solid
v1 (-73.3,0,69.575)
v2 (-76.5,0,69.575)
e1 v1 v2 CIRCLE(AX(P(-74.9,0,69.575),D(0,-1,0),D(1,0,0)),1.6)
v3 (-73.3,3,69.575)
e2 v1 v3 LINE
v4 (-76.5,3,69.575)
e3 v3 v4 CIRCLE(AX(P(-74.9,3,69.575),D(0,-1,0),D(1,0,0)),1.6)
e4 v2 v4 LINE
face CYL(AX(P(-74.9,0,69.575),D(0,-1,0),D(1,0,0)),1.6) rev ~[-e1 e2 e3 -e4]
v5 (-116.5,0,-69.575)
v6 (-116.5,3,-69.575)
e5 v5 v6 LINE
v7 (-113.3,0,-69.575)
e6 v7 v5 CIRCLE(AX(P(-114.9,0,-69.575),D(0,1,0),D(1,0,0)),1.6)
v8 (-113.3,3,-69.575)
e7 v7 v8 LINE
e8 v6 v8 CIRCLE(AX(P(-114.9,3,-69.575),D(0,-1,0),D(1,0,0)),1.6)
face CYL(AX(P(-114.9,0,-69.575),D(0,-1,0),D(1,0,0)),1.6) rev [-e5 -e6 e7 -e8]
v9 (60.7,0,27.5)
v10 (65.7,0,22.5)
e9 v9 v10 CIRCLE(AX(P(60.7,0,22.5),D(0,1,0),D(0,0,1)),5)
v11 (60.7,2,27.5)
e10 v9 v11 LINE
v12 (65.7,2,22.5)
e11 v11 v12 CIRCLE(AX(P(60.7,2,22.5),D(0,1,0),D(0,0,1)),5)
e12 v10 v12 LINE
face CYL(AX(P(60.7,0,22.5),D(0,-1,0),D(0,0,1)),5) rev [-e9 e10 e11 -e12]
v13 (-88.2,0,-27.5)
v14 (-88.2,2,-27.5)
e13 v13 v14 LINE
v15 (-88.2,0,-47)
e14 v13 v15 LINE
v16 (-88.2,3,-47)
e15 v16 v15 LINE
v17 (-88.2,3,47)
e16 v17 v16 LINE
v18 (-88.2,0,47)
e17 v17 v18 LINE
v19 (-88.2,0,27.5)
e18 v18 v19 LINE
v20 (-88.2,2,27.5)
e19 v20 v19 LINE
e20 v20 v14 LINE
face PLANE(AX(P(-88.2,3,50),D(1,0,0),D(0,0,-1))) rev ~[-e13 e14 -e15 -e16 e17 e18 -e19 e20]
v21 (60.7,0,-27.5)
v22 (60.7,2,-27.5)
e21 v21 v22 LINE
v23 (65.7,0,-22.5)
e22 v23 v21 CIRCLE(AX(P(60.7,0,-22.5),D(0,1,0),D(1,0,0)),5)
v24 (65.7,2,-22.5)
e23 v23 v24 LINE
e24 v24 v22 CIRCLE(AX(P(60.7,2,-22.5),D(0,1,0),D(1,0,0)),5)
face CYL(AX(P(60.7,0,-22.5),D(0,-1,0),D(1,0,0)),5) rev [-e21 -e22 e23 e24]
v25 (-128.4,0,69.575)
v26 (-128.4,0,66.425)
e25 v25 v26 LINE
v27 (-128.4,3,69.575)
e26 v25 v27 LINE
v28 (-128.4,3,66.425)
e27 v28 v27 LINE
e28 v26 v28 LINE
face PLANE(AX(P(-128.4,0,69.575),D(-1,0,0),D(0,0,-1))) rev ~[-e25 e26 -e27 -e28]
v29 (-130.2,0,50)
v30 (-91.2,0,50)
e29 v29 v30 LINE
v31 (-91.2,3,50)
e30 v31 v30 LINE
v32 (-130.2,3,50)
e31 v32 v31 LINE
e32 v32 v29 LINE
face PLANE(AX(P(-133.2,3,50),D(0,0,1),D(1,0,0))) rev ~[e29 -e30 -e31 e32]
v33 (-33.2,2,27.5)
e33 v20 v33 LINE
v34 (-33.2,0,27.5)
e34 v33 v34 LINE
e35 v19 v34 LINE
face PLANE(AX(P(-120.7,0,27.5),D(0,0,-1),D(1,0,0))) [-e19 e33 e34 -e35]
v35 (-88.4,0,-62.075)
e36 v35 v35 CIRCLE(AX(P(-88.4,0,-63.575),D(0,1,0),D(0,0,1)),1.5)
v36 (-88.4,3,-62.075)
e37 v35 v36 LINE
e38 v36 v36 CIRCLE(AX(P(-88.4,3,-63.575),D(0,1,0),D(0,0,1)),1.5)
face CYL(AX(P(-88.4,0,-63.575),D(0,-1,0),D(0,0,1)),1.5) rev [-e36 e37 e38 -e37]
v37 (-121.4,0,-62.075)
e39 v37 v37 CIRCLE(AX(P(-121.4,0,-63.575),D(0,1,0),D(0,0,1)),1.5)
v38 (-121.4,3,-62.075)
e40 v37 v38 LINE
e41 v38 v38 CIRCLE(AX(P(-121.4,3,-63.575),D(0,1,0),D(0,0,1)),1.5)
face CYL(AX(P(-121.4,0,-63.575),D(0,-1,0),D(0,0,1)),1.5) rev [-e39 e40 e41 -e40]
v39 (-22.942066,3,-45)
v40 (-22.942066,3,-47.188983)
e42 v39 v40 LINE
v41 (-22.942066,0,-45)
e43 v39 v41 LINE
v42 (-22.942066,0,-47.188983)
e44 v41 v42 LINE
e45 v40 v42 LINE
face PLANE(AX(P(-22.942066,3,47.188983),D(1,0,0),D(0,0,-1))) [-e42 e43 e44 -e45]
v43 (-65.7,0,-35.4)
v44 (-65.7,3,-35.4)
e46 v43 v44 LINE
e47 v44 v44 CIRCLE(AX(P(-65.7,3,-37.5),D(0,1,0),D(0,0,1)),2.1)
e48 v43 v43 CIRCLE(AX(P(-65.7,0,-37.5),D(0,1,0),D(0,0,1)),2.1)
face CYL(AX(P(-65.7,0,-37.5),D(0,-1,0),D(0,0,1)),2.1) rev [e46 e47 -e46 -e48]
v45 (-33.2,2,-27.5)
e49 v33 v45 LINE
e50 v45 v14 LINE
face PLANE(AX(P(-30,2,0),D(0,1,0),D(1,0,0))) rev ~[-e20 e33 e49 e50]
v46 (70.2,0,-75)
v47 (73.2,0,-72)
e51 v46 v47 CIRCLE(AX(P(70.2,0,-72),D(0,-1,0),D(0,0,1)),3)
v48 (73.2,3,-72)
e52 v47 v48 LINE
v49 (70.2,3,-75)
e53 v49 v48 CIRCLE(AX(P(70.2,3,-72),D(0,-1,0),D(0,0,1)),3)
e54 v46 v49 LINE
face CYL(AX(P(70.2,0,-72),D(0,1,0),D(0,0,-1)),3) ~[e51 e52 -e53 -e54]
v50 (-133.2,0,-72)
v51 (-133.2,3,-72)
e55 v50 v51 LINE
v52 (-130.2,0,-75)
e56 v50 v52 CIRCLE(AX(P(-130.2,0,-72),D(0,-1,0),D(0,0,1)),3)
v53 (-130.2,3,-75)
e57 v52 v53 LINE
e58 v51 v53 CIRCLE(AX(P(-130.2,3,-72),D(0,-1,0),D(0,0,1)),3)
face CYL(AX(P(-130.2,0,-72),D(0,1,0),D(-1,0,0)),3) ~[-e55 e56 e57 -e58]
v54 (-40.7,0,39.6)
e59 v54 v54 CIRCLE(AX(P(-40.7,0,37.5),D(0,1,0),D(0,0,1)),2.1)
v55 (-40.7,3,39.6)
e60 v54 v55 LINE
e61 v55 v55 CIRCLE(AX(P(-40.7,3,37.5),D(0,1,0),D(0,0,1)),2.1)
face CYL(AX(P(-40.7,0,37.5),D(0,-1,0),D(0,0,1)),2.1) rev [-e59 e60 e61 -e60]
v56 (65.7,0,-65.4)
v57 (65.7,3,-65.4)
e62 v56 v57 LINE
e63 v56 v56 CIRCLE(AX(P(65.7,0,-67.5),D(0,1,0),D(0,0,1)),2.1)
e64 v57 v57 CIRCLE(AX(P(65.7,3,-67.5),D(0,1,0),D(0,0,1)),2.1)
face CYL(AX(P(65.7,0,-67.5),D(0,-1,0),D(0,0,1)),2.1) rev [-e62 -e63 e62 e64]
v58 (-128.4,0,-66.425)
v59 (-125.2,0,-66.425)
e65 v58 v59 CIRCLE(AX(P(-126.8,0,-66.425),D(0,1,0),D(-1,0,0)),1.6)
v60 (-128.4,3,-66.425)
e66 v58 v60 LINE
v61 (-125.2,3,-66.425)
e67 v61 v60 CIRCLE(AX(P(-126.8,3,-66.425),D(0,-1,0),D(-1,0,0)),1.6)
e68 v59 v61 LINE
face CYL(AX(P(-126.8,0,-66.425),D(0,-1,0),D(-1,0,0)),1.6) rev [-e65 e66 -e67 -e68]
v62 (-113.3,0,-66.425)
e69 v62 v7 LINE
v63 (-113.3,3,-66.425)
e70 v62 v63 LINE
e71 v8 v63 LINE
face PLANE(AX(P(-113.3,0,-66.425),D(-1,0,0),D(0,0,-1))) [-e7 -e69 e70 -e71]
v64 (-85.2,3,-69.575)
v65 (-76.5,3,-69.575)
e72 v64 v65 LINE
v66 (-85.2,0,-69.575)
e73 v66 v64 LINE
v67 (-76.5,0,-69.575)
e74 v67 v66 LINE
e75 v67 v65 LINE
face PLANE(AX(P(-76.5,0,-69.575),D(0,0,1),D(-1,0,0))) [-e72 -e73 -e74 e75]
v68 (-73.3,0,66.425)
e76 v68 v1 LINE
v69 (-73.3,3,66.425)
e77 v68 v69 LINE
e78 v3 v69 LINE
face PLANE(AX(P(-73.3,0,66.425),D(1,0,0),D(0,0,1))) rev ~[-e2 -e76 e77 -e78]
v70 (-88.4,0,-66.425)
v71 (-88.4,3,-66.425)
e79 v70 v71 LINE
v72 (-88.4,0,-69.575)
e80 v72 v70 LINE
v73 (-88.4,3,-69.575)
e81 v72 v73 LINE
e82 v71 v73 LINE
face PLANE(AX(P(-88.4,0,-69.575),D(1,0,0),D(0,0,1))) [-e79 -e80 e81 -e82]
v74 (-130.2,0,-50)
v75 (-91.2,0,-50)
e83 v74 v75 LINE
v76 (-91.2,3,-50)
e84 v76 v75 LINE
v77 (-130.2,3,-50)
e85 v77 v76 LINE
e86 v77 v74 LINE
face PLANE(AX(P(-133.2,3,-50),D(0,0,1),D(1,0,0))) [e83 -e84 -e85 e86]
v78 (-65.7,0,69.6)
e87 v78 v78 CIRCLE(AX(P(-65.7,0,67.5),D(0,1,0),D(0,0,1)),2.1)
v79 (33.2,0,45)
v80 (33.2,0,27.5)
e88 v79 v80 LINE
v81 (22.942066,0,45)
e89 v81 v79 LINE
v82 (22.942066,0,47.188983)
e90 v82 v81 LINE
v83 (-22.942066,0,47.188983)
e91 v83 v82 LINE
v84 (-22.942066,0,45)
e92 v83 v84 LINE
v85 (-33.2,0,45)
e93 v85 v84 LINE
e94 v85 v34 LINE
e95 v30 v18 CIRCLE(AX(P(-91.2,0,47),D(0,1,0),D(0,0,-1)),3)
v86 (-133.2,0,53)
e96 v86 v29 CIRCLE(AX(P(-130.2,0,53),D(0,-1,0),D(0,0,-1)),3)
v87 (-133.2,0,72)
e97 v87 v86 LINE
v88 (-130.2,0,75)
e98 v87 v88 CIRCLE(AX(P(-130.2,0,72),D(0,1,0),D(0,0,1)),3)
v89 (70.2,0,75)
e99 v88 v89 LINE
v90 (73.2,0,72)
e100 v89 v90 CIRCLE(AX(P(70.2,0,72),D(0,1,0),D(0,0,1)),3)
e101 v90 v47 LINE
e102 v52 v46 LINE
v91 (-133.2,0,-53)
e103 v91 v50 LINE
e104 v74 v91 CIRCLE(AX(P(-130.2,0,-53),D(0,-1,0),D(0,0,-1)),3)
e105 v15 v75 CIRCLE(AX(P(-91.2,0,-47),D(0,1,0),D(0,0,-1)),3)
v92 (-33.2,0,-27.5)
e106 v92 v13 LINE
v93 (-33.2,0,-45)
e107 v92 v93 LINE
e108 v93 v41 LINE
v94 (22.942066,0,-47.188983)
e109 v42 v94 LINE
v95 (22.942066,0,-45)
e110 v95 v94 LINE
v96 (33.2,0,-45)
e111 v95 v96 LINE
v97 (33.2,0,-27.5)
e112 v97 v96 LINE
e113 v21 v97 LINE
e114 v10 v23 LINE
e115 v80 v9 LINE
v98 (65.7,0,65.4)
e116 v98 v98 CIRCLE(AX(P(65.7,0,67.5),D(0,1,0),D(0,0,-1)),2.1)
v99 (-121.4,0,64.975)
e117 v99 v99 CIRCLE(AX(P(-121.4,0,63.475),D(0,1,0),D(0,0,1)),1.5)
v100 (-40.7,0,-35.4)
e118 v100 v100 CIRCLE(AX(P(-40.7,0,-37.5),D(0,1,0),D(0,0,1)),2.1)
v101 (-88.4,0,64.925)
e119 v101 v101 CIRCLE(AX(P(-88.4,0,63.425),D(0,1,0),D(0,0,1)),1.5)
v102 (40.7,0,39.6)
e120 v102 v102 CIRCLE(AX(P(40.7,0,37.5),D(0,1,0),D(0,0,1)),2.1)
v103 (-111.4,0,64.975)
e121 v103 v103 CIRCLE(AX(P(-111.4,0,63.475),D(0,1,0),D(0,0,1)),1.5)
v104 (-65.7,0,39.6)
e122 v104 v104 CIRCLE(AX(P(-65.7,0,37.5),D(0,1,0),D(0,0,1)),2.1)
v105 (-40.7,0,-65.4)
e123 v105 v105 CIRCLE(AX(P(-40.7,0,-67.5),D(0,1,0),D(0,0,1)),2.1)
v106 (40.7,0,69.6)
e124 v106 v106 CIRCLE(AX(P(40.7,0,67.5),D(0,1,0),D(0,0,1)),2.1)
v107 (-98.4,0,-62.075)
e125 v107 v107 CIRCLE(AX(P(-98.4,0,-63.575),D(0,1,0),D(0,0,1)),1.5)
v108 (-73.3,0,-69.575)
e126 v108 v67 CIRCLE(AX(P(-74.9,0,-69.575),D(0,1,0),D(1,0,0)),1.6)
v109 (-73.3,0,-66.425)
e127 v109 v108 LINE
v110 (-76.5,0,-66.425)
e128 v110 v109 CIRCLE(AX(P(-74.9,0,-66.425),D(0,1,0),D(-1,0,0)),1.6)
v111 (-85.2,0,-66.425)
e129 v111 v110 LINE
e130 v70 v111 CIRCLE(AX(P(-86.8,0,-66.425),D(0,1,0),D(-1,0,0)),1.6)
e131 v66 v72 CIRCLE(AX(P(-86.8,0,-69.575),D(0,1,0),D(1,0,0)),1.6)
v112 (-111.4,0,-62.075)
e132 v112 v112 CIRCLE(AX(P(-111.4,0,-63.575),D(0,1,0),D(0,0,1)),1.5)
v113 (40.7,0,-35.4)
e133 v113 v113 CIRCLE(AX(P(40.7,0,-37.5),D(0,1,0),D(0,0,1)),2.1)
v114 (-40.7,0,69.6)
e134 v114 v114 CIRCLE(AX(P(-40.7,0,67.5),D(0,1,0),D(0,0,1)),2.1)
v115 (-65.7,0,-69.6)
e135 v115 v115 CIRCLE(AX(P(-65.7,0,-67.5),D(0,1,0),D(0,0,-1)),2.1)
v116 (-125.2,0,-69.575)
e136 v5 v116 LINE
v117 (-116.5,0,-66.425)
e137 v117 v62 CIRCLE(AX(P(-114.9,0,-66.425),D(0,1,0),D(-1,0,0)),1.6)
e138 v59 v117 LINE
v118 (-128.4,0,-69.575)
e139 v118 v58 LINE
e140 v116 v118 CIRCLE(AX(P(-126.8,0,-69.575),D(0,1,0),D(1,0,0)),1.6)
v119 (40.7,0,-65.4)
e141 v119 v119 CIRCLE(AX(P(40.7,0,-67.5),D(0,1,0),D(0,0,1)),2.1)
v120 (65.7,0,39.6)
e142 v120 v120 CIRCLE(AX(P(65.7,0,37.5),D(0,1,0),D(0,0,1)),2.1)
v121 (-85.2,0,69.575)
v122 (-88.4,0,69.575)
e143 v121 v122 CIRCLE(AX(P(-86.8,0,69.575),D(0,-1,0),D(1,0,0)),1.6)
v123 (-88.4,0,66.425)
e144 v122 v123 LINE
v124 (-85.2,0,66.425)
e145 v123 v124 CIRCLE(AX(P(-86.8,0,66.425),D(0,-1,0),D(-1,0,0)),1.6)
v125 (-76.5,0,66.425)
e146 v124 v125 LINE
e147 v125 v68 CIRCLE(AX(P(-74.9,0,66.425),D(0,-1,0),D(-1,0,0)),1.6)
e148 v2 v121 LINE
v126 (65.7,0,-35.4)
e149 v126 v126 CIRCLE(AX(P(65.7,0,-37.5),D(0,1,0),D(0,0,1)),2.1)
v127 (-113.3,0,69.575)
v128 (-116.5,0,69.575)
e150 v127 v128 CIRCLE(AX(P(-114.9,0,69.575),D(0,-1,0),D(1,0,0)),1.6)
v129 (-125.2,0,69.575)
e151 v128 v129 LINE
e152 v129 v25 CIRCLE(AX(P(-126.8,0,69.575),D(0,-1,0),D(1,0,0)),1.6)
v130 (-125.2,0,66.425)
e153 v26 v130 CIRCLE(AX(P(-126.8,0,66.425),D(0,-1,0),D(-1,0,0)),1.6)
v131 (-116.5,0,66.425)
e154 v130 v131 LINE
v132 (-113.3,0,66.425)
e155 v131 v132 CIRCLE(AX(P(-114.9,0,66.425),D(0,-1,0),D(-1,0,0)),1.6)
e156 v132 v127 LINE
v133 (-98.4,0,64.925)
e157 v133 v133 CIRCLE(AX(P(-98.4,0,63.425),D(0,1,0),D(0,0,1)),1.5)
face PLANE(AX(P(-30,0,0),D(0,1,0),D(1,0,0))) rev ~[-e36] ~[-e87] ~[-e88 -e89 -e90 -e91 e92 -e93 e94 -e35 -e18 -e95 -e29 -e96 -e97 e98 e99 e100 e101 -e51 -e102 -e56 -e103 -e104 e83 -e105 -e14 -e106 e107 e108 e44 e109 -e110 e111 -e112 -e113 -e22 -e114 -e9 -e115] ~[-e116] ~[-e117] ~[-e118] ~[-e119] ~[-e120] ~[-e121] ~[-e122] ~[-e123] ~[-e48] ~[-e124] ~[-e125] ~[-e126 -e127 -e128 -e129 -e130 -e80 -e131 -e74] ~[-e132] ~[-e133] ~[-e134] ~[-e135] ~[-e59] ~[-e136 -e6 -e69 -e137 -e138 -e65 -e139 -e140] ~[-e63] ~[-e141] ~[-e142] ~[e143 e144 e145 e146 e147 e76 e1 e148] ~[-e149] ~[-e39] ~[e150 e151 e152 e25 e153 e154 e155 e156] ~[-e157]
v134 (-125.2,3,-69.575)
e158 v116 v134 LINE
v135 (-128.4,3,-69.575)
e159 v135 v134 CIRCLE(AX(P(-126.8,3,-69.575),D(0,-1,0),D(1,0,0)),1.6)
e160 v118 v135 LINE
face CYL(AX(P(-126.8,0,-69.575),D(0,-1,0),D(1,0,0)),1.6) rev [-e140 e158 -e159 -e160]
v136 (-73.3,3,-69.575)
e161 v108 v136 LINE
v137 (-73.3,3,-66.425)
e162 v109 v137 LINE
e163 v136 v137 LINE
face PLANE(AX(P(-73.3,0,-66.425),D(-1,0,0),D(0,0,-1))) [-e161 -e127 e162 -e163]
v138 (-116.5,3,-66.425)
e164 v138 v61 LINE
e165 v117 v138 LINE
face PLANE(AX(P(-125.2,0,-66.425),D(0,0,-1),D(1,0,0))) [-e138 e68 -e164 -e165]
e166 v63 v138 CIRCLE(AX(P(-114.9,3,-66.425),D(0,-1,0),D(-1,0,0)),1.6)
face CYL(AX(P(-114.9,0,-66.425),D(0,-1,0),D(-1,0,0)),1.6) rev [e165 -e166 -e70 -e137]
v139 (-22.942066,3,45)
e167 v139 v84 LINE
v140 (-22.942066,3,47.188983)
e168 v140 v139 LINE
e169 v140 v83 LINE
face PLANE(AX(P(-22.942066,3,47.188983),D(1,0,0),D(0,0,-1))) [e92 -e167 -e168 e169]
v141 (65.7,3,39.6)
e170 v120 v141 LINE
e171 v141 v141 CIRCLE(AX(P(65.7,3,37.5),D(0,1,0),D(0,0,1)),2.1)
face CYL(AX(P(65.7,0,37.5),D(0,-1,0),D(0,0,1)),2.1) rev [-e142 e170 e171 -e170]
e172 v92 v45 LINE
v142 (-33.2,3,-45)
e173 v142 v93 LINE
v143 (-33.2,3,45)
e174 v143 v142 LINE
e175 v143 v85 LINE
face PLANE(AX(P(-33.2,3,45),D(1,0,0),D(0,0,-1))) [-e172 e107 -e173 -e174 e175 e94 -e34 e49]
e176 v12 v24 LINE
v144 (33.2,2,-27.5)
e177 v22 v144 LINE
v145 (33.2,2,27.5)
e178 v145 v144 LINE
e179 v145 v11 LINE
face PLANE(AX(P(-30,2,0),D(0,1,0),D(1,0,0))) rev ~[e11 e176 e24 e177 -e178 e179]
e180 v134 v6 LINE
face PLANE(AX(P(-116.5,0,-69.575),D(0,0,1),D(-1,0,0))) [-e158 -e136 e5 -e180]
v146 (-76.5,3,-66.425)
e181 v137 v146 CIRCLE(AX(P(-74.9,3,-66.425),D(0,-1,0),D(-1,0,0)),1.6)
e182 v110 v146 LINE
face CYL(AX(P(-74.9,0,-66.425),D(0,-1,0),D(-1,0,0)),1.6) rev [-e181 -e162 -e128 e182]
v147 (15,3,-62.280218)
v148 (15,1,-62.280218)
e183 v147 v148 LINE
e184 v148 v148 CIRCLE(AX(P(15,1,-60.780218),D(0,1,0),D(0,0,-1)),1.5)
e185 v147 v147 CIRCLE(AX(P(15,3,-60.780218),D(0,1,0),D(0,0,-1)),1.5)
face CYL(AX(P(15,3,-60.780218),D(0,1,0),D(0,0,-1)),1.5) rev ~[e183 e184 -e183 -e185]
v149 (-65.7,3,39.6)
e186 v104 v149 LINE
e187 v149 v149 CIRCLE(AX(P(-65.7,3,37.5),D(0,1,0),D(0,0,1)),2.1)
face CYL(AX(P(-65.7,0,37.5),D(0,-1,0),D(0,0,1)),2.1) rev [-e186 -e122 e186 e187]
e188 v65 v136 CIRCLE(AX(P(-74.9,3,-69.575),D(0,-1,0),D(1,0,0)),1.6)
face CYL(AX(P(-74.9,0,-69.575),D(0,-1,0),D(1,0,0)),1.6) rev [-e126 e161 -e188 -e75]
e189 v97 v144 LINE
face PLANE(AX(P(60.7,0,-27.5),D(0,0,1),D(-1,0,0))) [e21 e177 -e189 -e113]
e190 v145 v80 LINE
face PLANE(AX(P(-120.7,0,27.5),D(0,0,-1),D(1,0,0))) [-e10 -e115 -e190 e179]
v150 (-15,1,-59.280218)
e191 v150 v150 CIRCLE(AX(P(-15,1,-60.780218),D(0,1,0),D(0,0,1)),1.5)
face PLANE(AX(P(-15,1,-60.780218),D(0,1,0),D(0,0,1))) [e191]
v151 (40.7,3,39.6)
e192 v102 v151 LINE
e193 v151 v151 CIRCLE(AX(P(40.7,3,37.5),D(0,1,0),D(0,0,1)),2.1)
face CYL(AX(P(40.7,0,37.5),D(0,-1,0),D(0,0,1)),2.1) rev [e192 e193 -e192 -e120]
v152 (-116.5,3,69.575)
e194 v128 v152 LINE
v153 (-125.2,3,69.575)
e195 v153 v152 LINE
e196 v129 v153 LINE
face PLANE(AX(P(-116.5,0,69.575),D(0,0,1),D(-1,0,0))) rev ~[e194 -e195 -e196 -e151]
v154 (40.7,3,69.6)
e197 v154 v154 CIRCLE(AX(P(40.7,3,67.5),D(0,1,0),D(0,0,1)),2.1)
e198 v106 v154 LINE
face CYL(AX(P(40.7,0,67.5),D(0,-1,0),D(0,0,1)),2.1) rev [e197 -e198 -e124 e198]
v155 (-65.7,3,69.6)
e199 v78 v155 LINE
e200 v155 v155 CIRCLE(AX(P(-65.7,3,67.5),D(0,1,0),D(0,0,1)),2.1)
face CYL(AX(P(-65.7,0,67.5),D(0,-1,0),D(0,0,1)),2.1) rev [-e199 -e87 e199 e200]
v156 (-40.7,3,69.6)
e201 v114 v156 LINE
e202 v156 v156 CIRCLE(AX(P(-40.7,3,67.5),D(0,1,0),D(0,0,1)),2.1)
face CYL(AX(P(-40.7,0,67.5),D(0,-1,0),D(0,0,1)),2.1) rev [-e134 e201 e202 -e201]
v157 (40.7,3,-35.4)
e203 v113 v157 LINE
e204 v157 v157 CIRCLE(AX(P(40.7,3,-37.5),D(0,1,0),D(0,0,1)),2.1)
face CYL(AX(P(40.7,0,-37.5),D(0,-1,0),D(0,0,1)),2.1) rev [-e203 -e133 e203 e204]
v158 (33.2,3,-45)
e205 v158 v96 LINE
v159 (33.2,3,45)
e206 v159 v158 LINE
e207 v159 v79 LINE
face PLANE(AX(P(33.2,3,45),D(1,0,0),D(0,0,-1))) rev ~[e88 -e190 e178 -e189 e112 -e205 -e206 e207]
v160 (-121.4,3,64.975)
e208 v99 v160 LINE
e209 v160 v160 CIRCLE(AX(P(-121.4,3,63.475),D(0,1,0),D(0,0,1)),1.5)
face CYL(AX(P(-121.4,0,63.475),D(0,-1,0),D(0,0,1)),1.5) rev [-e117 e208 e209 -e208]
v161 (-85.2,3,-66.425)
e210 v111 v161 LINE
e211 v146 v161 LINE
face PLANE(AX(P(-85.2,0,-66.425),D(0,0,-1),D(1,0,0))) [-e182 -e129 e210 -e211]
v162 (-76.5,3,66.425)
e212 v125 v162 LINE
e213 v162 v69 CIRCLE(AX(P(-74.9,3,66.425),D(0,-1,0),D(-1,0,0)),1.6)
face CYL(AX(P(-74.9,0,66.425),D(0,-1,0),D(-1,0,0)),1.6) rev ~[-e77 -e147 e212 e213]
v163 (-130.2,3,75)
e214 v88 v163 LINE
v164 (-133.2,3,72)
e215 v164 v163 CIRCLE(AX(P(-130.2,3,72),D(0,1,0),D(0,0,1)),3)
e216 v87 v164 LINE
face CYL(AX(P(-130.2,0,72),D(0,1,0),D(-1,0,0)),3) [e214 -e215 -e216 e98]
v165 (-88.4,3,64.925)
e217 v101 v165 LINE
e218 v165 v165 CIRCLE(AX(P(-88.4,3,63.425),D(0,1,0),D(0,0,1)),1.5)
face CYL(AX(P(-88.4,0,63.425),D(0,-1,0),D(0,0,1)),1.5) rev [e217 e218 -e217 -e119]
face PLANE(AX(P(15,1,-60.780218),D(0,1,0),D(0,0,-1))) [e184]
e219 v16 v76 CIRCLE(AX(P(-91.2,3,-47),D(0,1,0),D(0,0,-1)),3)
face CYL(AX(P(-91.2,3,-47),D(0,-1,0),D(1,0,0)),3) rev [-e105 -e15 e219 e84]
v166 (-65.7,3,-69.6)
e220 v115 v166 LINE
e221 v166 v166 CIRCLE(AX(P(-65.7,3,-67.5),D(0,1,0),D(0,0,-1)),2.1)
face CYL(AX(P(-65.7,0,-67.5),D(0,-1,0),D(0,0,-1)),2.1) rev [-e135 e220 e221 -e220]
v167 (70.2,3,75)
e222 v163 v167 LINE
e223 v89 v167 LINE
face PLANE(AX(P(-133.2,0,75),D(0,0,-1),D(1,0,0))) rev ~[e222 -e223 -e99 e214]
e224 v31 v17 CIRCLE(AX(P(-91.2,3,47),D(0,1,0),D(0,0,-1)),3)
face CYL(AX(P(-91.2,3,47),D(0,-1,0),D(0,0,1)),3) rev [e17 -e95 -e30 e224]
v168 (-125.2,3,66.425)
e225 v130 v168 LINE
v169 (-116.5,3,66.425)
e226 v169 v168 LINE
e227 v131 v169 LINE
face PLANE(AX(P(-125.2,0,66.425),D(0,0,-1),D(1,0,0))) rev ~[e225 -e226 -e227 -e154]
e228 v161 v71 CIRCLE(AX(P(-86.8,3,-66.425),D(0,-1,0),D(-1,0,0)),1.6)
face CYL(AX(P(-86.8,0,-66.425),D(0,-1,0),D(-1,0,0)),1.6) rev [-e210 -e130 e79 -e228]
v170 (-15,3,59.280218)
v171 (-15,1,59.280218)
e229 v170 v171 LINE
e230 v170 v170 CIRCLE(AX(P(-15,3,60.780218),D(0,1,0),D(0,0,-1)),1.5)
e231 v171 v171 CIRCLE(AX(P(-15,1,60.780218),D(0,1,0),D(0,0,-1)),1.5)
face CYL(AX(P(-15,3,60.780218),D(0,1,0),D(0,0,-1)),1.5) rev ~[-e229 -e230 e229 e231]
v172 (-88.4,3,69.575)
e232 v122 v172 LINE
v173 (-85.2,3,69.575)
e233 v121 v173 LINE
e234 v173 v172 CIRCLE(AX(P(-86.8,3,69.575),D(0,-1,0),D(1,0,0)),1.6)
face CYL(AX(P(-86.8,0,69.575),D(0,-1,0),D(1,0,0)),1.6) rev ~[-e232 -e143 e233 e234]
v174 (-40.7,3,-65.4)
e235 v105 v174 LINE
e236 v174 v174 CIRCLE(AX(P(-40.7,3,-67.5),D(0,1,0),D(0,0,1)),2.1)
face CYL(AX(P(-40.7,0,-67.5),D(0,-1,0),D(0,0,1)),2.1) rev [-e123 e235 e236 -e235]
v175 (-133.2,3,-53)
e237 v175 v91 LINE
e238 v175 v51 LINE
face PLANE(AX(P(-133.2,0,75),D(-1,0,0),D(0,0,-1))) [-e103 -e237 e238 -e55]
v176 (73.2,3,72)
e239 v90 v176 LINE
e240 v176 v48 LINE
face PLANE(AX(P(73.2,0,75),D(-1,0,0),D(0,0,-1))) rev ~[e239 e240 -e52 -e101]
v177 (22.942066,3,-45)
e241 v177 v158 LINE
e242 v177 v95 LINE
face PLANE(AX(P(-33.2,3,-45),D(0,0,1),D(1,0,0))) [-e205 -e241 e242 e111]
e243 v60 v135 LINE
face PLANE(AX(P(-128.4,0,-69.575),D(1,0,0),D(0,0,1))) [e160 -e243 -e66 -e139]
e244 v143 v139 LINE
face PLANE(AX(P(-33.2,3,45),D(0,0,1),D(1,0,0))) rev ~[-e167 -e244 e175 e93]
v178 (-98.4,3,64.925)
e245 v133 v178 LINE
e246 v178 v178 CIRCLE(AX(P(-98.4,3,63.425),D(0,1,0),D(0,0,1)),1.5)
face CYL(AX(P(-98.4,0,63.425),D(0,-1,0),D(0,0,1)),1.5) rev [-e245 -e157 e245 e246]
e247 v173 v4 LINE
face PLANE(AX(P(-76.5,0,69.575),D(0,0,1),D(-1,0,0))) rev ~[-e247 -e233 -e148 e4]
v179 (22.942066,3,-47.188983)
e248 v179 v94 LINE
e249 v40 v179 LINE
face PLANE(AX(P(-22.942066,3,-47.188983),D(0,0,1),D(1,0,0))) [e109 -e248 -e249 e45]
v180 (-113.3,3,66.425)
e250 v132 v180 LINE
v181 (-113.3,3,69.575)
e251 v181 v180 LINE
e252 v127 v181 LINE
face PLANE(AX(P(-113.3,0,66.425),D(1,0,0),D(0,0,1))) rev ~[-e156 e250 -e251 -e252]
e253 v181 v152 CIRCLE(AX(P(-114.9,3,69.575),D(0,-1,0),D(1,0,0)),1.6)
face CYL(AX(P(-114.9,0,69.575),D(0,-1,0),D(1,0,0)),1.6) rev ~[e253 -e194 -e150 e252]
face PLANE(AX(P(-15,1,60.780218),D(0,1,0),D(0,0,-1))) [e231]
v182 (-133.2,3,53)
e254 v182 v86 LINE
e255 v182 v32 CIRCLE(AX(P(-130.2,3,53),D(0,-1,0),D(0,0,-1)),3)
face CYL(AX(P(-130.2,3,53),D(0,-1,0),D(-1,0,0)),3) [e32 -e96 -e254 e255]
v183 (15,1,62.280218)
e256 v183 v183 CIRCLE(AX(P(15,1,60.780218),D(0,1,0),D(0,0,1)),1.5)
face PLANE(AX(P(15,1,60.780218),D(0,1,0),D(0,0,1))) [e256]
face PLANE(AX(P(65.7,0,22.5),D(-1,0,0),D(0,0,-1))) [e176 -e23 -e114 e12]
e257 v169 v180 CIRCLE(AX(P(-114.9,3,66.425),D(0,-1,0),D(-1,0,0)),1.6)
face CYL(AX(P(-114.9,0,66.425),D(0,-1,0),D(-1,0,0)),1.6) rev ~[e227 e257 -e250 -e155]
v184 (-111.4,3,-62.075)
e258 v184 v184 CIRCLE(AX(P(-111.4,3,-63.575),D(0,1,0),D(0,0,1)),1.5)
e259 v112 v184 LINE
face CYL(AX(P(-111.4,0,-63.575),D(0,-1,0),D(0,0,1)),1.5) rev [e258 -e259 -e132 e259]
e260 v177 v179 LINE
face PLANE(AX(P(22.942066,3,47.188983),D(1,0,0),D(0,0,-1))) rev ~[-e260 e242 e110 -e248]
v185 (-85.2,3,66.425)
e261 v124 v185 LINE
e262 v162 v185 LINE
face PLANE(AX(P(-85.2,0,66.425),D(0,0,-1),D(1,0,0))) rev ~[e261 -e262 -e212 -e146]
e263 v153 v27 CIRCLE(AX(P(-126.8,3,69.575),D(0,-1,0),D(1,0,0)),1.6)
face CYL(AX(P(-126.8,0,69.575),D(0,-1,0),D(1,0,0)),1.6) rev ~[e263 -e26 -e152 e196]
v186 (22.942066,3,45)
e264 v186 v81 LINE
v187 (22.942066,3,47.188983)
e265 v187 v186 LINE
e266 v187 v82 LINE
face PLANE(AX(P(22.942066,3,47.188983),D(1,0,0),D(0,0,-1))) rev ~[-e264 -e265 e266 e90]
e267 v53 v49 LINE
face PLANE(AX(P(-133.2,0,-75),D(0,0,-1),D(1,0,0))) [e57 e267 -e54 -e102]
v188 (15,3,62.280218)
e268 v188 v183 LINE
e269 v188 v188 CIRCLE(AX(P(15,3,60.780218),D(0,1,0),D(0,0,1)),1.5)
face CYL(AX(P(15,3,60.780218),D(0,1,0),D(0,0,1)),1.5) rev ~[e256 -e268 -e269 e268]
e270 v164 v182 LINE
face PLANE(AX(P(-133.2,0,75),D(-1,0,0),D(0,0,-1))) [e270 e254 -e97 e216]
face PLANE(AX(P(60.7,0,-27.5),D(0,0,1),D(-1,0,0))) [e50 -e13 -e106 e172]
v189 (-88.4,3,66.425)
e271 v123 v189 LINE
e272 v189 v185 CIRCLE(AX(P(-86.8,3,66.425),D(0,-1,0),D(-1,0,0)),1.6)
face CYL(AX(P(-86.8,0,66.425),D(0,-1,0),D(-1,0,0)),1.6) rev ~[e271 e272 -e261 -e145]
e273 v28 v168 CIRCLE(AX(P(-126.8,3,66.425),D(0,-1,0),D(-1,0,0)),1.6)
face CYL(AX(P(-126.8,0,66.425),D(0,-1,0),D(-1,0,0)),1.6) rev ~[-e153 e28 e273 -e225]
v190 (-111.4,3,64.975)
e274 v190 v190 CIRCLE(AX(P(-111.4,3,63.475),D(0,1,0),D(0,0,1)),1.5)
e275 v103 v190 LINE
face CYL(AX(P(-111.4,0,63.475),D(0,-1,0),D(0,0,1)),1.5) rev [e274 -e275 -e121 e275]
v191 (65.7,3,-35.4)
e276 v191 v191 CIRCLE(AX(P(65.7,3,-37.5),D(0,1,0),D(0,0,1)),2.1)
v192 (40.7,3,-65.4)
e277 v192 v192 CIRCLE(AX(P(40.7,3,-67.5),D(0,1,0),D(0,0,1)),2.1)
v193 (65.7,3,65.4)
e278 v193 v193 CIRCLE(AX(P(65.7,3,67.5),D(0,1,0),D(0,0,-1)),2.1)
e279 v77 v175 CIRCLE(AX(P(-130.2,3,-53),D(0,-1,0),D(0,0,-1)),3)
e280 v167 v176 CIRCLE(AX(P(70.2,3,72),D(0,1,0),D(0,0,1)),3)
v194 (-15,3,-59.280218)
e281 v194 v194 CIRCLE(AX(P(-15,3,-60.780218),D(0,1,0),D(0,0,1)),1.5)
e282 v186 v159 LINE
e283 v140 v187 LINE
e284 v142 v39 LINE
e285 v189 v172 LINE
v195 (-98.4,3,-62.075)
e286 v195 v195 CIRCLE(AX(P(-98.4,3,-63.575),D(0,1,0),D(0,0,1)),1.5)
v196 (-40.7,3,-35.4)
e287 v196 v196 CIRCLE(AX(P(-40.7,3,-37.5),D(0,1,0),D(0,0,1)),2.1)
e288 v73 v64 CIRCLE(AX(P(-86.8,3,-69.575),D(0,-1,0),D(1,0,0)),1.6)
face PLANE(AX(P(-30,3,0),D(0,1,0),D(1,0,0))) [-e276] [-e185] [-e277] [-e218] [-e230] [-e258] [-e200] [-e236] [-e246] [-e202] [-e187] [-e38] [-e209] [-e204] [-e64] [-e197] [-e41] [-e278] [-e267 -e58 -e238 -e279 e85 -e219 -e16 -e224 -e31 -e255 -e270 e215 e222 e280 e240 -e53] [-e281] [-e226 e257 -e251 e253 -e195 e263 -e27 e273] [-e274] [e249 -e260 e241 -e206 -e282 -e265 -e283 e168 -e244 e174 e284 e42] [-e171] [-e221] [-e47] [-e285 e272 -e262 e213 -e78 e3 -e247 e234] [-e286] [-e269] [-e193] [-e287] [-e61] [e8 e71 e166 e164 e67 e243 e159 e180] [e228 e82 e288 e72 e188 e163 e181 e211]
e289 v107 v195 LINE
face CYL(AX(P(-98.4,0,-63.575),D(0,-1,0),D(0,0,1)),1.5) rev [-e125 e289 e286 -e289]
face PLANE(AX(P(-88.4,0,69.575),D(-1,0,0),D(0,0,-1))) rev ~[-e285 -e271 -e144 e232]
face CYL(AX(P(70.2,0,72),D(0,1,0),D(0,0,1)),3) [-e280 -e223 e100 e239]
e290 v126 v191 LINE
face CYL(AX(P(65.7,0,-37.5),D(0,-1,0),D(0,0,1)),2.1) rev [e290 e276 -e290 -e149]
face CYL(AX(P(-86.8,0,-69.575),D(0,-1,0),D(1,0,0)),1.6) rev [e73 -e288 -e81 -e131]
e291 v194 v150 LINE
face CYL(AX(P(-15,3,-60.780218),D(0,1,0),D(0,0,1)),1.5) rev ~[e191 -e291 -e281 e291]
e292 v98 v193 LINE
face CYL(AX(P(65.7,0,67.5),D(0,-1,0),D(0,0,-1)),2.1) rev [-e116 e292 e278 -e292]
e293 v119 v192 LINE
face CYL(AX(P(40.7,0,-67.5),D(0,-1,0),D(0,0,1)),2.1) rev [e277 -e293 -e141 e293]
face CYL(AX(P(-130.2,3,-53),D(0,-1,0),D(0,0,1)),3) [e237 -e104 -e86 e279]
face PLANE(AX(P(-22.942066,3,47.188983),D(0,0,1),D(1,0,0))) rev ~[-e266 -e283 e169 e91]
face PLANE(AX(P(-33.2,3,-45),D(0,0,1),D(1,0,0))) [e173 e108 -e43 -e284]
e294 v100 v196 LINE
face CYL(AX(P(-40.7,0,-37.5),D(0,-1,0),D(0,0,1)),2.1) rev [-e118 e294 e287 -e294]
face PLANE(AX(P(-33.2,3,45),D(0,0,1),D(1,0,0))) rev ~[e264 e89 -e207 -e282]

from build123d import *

# Parameters (mm, degrees)
SKETCH_1_W          = 206.4
SKETCH_1_H          = 150
SKETCH_1_R          = 2.1
SKETCH_1_R_2        = 1.5
EXTRUDE_1_DEPTH     = 3
CUT_EXTRUDE_1_DEPTH = 153.892903694
FILLET_1_R          = 3
CUT_EXTRUDE_2_DEPTH = 2
SKETCH_6_R          = 10
CUT_EXTRUDE_3_DEPTH = 10
SKETCH_7_W          = 45
SKETCH_7_H          = 100
CUT_EXTRUDE_4_DEPTH = 10
FILLET_2_R          = 3
SKETCH_8_W          = 45.884132908
SKETCH_8_H          = 94.377965814
CUT_EXTRUDE_5_DEPTH = 10
SKETCH_9_W          = 66.4
SKETCH_9_H          = 90
CUT_EXTRUDE_6_DEPTH = 10
SKETCH_10_R         = 1.5
CUT_EXTRUDE_7_DEPTH = 2


with BuildPart() as part:
    # 草图1 → 凸台-拉伸1 (new body)
    with BuildSketch(Plane(origin=(0, 0, 0), x_dir=(1, 0, 0), z_dir=(0, 1, 0))):
        with Locations((-30, 0)):
            Rectangle(SKETCH_1_W, SKETCH_1_H)
        with Locations(Location((65.7, 67.5, 0), (0, 0, 270))):
            Circle(SKETCH_1_R, mode=Mode.SUBTRACT)
        with Locations(Location((65.7, -67.5, 0), (0, 0, 90))):
            Circle(SKETCH_1_R, mode=Mode.SUBTRACT)
        with Locations(Location((-65.7, -67.5, 0), (0, 0, 270))):
            Circle(SKETCH_1_R, mode=Mode.SUBTRACT)
        with Locations(Location((-65.7, 67.5, 0), (0, 0, 90))):
            Circle(SKETCH_1_R, mode=Mode.SUBTRACT)
        with Locations(Location((-65.7, 37.5, 0), (0, 0, 270))):
            Circle(SKETCH_1_R, mode=Mode.SUBTRACT)
        with Locations(Location((-40.7, 37.5, 0), (0, 0, 270))):
            Circle(SKETCH_1_R, mode=Mode.SUBTRACT)
        with Locations(Location((-40.7, 67.5, 0), (0, 0, 270))):
            Circle(SKETCH_1_R, mode=Mode.SUBTRACT)
        with Locations(Location((-40.7, -67.5, 0), (0, 0, 270))):
            Circle(SKETCH_1_R, mode=Mode.SUBTRACT)
        with Locations(Location((-40.7, -37.5, 0), (0, 0, 270))):
            Circle(SKETCH_1_R, mode=Mode.SUBTRACT)
        with Locations(Location((-65.7, -37.5, 0), (0, 0, 270))):
            Circle(SKETCH_1_R, mode=Mode.SUBTRACT)
        with Locations(Location((40.7, -67.5, 0), (0, 0, 270))):
            Circle(SKETCH_1_R, mode=Mode.SUBTRACT)
        with Locations(Location((40.7, -37.5, 0), (0, 0, 270))):
            Circle(SKETCH_1_R, mode=Mode.SUBTRACT)
        with Locations(Location((65.7, -37.5, 0), (0, 0, 270))):
            Circle(SKETCH_1_R, mode=Mode.SUBTRACT)
        with Locations(Location((65.7, 37.5, 0), (0, 0, 270))):
            Circle(SKETCH_1_R, mode=Mode.SUBTRACT)
        with Locations(Location((40.7, 37.5, 0), (0, 0, 270))):
            Circle(SKETCH_1_R, mode=Mode.SUBTRACT)
        with Locations(Location((40.7, 67.5, 0), (0, 0, 270))):
            Circle(SKETCH_1_R, mode=Mode.SUBTRACT)
        with Locations(Location((-98.4, 63.575, 0), (0, 0, 270))):
            Circle(SKETCH_1_R_2, mode=Mode.SUBTRACT)
        with Locations(Location((-88.4, 63.575, 0), (0, 0, 270))):
            Circle(SKETCH_1_R_2, mode=Mode.SUBTRACT)
        with Locations(Location((-111.4, 63.575, 0), (0, 0, 270))):
            Circle(SKETCH_1_R_2, mode=Mode.SUBTRACT)
        with Locations(Location((-121.4, 63.575, 0), (0, 0, 270))):
            Circle(SKETCH_1_R_2, mode=Mode.SUBTRACT)
        with Locations(Location((-121.4, -63.474999999, 0), (0, 0, 270))):
            Circle(SKETCH_1_R_2, mode=Mode.SUBTRACT)
        with Locations(Location((-111.4, -63.474999999, 0), (0, 0, 270))):
            Circle(SKETCH_1_R_2, mode=Mode.SUBTRACT)
        with Locations(Location((-98.4, -63.425, 0), (0, 0, 270))):
            Circle(SKETCH_1_R_2, mode=Mode.SUBTRACT)
        with Locations(Location((-88.4, -63.425, 0), (0, 0, 270))):
            Circle(SKETCH_1_R_2, mode=Mode.SUBTRACT)
    extrude(amount=EXTRUDE_1_DEPTH)

    # 草图2 → 切除-拉伸1 (cut, through all)
    with BuildSketch(Plane(origin=(0, 0, 0), x_dir=(1, 0, 0), z_dir=(0, 1, 0))):
        with BuildLine():
            Line((-125.2, -66.425), (-116.5, -66.425))
            ThreePointArc((-116.5, -66.425), (-114.9, -64.825), (-113.3, -66.425))
            Line((-113.3, -66.425), (-113.3, -69.575))
            ThreePointArc((-113.3, -69.575), (-114.9, -71.175), (-116.5, -69.575))
            Line((-116.5, -69.575), (-125.2, -69.575))
            ThreePointArc((-125.2, -69.575), (-126.8, -71.175), (-128.4, -69.575))
            Line((-128.4, -69.575), (-128.4, -66.425))
            ThreePointArc((-128.4, -66.425), (-126.8, -64.825), (-125.2, -66.425))
        make_face()
        with BuildLine():
            Line((-85.2, -66.425), (-76.5, -66.425))
            ThreePointArc((-76.5, -66.425), (-74.9, -64.825), (-73.3, -66.425))
            Line((-73.3, -66.425), (-73.3, -69.575))
            ThreePointArc((-73.3, -69.575), (-74.9, -71.175), (-76.5, -69.575))
            Line((-76.5, -69.575), (-85.2, -69.575))
            ThreePointArc((-85.2, -69.575), (-86.8, -71.175), (-88.4, -69.575))
            Line((-88.4, -69.575), (-88.4, -66.425))
            ThreePointArc((-88.4, -66.425), (-86.8, -64.825), (-85.2, -66.425))
        make_face()
        with BuildLine():
            Line((-73.3, 66.425), (-73.3, 69.575))
            ThreePointArc((-73.3, 69.575), (-74.9, 71.175), (-76.5, 69.575))
            Line((-76.5, 69.575), (-85.2, 69.575))
            ThreePointArc((-85.2, 69.575), (-86.8, 71.175), (-88.4, 69.575))
            Line((-88.4, 69.575), (-88.4, 66.425))
            ThreePointArc((-88.4, 66.425), (-86.8, 64.825), (-85.2, 66.425))
            Line((-85.2, 66.425), (-76.5, 66.425))
            ThreePointArc((-76.5, 66.425), (-74.9, 64.825), (-73.3, 66.425))
        make_face()
        with BuildLine():
            Line((-113.3, 66.425), (-113.3, 69.575))
            ThreePointArc((-113.3, 69.575), (-114.9, 71.175), (-116.5, 69.575))
            Line((-116.5, 69.575), (-125.2, 69.575))
            ThreePointArc((-125.2, 69.575), (-126.8, 71.175), (-128.4, 69.575))
            Line((-128.4, 69.575), (-128.4, 66.425))
            ThreePointArc((-128.4, 66.425), (-126.8, 64.825), (-125.2, 66.425))
            Line((-125.2, 66.425), (-116.5, 66.425))
            ThreePointArc((-116.5, 66.425), (-114.9, 64.825), (-113.3, 66.425))
        make_face()
    extrude(amount=CUT_EXTRUDE_1_DEPTH, mode=Mode.SUBTRACT)

    # 圆角1
    fillet_1_edges = [part.edges().sort_by_distance(p)[0] for p in [
        (73.2, 1.5, 75),
        (-133.2, 1.5, 75),
        (-133.2, 1.5, -75),
        (73.2, 1.5, -75),
    ]]
    fillet(fillet_1_edges, radius=FILLET_1_R)

    # 草图4 → 切除-拉伸2 (cut)
    with BuildSketch(Plane(origin=(0, 0, 0), x_dir=(1, 0, 0), z_dir=(0, 1, 0))):
        with BuildLine():
            Line((-120.7, -27.5), (60.7, -27.5))
            ThreePointArc((60.7, -27.5), (64.235533906, -26.035533906), (65.7, -22.5))
            Line((65.7, -22.5), (65.7, 22.5))
            ThreePointArc((65.7, 22.5), (64.235533906, 26.035533906), (60.7, 27.5))
            Line((60.7, 27.5), (-120.7, 27.5))
            ThreePointArc((-120.7, 27.5), (-124.235533906, 26.035533906), (-125.7, 22.5))
            Line((-125.7, 22.5), (-125.7, -22.5))
            ThreePointArc((-125.7, -22.5), (-124.235533906, -26.035533906), (-120.7, -27.5))
        make_face()
    extrude(amount=CUT_EXTRUDE_2_DEPTH, mode=Mode.SUBTRACT)

    # 草图6 → 切除-拉伸3 (cut)
    with BuildSketch(Plane(origin=(0, 3, 0), x_dir=(1, 0, 0), z_dir=(0, 1, 0))):
        with Locations(Location((0, 0, 0), (0, 0, 270))):
            Circle(SKETCH_6_R)
    extrude(amount=-CUT_EXTRUDE_3_DEPTH, mode=Mode.SUBTRACT)

    # 草图7 → 切除-拉伸4 (cut)
    with BuildSketch(Plane(origin=(0, 3, 0), x_dir=(1, 0, 0), z_dir=(0, 1, 0))):
        with Locations((-110.7, 0)):
            Rectangle(SKETCH_7_W, SKETCH_7_H)
    extrude(amount=-CUT_EXTRUDE_4_DEPTH, mode=Mode.SUBTRACT)

    # 圆角2
    fillet_2_edges = [part.edges().sort_by_distance(p)[0] for p in [
        (-133.2, 1.5, 50),
        (-133.2, 1.5, -50),
        (-88.2, 1.5, -50),
        (-88.2, 1.5, 50),
    ]]
    fillet(fillet_2_edges, radius=FILLET_2_R)

    # 草图8 → 切除-拉伸5 (cut)
    with BuildSketch(Plane(origin=(0, 3, 0), x_dir=(1, 0, 0), z_dir=(0, 1, 0))):
        Rectangle(SKETCH_8_W, SKETCH_8_H)
    extrude(amount=-CUT_EXTRUDE_5_DEPTH, mode=Mode.SUBTRACT)

    # 草图9 → 切除-拉伸6 (cut)
    with BuildSketch(Plane(origin=(0, 3, 0), x_dir=(1, 0, 0), z_dir=(0, 1, 0))):
        with Locations((-1e-09, 0)):
            Rectangle(SKETCH_9_W, SKETCH_9_H)
    extrude(amount=-CUT_EXTRUDE_6_DEPTH, mode=Mode.SUBTRACT)

    # 草图10 → 切除-拉伸7 (cut)
    with BuildSketch(Plane(origin=(0, 3, 0), x_dir=(1, 0, 0), z_dir=(0, 1, 0))):
        with Locations(Location((-15, 60.780217665, 0), (0, 0, 270))):
            Circle(SKETCH_10_R)
        with Locations(Location((15, 60.780217665, 0), (0, 0, 90))):
            Circle(SKETCH_10_R)
        with Locations(Location((15, -60.780217665, 0), (0, 0, 270))):
            Circle(SKETCH_10_R)
        with Locations(Location((-15, -60.780217665, 0), (0, 0, 90))):
            Circle(SKETCH_10_R)
    extrude(amount=-CUT_EXTRUDE_7_DEPTH, mode=Mode.SUBTRACT)


solid = part.part
